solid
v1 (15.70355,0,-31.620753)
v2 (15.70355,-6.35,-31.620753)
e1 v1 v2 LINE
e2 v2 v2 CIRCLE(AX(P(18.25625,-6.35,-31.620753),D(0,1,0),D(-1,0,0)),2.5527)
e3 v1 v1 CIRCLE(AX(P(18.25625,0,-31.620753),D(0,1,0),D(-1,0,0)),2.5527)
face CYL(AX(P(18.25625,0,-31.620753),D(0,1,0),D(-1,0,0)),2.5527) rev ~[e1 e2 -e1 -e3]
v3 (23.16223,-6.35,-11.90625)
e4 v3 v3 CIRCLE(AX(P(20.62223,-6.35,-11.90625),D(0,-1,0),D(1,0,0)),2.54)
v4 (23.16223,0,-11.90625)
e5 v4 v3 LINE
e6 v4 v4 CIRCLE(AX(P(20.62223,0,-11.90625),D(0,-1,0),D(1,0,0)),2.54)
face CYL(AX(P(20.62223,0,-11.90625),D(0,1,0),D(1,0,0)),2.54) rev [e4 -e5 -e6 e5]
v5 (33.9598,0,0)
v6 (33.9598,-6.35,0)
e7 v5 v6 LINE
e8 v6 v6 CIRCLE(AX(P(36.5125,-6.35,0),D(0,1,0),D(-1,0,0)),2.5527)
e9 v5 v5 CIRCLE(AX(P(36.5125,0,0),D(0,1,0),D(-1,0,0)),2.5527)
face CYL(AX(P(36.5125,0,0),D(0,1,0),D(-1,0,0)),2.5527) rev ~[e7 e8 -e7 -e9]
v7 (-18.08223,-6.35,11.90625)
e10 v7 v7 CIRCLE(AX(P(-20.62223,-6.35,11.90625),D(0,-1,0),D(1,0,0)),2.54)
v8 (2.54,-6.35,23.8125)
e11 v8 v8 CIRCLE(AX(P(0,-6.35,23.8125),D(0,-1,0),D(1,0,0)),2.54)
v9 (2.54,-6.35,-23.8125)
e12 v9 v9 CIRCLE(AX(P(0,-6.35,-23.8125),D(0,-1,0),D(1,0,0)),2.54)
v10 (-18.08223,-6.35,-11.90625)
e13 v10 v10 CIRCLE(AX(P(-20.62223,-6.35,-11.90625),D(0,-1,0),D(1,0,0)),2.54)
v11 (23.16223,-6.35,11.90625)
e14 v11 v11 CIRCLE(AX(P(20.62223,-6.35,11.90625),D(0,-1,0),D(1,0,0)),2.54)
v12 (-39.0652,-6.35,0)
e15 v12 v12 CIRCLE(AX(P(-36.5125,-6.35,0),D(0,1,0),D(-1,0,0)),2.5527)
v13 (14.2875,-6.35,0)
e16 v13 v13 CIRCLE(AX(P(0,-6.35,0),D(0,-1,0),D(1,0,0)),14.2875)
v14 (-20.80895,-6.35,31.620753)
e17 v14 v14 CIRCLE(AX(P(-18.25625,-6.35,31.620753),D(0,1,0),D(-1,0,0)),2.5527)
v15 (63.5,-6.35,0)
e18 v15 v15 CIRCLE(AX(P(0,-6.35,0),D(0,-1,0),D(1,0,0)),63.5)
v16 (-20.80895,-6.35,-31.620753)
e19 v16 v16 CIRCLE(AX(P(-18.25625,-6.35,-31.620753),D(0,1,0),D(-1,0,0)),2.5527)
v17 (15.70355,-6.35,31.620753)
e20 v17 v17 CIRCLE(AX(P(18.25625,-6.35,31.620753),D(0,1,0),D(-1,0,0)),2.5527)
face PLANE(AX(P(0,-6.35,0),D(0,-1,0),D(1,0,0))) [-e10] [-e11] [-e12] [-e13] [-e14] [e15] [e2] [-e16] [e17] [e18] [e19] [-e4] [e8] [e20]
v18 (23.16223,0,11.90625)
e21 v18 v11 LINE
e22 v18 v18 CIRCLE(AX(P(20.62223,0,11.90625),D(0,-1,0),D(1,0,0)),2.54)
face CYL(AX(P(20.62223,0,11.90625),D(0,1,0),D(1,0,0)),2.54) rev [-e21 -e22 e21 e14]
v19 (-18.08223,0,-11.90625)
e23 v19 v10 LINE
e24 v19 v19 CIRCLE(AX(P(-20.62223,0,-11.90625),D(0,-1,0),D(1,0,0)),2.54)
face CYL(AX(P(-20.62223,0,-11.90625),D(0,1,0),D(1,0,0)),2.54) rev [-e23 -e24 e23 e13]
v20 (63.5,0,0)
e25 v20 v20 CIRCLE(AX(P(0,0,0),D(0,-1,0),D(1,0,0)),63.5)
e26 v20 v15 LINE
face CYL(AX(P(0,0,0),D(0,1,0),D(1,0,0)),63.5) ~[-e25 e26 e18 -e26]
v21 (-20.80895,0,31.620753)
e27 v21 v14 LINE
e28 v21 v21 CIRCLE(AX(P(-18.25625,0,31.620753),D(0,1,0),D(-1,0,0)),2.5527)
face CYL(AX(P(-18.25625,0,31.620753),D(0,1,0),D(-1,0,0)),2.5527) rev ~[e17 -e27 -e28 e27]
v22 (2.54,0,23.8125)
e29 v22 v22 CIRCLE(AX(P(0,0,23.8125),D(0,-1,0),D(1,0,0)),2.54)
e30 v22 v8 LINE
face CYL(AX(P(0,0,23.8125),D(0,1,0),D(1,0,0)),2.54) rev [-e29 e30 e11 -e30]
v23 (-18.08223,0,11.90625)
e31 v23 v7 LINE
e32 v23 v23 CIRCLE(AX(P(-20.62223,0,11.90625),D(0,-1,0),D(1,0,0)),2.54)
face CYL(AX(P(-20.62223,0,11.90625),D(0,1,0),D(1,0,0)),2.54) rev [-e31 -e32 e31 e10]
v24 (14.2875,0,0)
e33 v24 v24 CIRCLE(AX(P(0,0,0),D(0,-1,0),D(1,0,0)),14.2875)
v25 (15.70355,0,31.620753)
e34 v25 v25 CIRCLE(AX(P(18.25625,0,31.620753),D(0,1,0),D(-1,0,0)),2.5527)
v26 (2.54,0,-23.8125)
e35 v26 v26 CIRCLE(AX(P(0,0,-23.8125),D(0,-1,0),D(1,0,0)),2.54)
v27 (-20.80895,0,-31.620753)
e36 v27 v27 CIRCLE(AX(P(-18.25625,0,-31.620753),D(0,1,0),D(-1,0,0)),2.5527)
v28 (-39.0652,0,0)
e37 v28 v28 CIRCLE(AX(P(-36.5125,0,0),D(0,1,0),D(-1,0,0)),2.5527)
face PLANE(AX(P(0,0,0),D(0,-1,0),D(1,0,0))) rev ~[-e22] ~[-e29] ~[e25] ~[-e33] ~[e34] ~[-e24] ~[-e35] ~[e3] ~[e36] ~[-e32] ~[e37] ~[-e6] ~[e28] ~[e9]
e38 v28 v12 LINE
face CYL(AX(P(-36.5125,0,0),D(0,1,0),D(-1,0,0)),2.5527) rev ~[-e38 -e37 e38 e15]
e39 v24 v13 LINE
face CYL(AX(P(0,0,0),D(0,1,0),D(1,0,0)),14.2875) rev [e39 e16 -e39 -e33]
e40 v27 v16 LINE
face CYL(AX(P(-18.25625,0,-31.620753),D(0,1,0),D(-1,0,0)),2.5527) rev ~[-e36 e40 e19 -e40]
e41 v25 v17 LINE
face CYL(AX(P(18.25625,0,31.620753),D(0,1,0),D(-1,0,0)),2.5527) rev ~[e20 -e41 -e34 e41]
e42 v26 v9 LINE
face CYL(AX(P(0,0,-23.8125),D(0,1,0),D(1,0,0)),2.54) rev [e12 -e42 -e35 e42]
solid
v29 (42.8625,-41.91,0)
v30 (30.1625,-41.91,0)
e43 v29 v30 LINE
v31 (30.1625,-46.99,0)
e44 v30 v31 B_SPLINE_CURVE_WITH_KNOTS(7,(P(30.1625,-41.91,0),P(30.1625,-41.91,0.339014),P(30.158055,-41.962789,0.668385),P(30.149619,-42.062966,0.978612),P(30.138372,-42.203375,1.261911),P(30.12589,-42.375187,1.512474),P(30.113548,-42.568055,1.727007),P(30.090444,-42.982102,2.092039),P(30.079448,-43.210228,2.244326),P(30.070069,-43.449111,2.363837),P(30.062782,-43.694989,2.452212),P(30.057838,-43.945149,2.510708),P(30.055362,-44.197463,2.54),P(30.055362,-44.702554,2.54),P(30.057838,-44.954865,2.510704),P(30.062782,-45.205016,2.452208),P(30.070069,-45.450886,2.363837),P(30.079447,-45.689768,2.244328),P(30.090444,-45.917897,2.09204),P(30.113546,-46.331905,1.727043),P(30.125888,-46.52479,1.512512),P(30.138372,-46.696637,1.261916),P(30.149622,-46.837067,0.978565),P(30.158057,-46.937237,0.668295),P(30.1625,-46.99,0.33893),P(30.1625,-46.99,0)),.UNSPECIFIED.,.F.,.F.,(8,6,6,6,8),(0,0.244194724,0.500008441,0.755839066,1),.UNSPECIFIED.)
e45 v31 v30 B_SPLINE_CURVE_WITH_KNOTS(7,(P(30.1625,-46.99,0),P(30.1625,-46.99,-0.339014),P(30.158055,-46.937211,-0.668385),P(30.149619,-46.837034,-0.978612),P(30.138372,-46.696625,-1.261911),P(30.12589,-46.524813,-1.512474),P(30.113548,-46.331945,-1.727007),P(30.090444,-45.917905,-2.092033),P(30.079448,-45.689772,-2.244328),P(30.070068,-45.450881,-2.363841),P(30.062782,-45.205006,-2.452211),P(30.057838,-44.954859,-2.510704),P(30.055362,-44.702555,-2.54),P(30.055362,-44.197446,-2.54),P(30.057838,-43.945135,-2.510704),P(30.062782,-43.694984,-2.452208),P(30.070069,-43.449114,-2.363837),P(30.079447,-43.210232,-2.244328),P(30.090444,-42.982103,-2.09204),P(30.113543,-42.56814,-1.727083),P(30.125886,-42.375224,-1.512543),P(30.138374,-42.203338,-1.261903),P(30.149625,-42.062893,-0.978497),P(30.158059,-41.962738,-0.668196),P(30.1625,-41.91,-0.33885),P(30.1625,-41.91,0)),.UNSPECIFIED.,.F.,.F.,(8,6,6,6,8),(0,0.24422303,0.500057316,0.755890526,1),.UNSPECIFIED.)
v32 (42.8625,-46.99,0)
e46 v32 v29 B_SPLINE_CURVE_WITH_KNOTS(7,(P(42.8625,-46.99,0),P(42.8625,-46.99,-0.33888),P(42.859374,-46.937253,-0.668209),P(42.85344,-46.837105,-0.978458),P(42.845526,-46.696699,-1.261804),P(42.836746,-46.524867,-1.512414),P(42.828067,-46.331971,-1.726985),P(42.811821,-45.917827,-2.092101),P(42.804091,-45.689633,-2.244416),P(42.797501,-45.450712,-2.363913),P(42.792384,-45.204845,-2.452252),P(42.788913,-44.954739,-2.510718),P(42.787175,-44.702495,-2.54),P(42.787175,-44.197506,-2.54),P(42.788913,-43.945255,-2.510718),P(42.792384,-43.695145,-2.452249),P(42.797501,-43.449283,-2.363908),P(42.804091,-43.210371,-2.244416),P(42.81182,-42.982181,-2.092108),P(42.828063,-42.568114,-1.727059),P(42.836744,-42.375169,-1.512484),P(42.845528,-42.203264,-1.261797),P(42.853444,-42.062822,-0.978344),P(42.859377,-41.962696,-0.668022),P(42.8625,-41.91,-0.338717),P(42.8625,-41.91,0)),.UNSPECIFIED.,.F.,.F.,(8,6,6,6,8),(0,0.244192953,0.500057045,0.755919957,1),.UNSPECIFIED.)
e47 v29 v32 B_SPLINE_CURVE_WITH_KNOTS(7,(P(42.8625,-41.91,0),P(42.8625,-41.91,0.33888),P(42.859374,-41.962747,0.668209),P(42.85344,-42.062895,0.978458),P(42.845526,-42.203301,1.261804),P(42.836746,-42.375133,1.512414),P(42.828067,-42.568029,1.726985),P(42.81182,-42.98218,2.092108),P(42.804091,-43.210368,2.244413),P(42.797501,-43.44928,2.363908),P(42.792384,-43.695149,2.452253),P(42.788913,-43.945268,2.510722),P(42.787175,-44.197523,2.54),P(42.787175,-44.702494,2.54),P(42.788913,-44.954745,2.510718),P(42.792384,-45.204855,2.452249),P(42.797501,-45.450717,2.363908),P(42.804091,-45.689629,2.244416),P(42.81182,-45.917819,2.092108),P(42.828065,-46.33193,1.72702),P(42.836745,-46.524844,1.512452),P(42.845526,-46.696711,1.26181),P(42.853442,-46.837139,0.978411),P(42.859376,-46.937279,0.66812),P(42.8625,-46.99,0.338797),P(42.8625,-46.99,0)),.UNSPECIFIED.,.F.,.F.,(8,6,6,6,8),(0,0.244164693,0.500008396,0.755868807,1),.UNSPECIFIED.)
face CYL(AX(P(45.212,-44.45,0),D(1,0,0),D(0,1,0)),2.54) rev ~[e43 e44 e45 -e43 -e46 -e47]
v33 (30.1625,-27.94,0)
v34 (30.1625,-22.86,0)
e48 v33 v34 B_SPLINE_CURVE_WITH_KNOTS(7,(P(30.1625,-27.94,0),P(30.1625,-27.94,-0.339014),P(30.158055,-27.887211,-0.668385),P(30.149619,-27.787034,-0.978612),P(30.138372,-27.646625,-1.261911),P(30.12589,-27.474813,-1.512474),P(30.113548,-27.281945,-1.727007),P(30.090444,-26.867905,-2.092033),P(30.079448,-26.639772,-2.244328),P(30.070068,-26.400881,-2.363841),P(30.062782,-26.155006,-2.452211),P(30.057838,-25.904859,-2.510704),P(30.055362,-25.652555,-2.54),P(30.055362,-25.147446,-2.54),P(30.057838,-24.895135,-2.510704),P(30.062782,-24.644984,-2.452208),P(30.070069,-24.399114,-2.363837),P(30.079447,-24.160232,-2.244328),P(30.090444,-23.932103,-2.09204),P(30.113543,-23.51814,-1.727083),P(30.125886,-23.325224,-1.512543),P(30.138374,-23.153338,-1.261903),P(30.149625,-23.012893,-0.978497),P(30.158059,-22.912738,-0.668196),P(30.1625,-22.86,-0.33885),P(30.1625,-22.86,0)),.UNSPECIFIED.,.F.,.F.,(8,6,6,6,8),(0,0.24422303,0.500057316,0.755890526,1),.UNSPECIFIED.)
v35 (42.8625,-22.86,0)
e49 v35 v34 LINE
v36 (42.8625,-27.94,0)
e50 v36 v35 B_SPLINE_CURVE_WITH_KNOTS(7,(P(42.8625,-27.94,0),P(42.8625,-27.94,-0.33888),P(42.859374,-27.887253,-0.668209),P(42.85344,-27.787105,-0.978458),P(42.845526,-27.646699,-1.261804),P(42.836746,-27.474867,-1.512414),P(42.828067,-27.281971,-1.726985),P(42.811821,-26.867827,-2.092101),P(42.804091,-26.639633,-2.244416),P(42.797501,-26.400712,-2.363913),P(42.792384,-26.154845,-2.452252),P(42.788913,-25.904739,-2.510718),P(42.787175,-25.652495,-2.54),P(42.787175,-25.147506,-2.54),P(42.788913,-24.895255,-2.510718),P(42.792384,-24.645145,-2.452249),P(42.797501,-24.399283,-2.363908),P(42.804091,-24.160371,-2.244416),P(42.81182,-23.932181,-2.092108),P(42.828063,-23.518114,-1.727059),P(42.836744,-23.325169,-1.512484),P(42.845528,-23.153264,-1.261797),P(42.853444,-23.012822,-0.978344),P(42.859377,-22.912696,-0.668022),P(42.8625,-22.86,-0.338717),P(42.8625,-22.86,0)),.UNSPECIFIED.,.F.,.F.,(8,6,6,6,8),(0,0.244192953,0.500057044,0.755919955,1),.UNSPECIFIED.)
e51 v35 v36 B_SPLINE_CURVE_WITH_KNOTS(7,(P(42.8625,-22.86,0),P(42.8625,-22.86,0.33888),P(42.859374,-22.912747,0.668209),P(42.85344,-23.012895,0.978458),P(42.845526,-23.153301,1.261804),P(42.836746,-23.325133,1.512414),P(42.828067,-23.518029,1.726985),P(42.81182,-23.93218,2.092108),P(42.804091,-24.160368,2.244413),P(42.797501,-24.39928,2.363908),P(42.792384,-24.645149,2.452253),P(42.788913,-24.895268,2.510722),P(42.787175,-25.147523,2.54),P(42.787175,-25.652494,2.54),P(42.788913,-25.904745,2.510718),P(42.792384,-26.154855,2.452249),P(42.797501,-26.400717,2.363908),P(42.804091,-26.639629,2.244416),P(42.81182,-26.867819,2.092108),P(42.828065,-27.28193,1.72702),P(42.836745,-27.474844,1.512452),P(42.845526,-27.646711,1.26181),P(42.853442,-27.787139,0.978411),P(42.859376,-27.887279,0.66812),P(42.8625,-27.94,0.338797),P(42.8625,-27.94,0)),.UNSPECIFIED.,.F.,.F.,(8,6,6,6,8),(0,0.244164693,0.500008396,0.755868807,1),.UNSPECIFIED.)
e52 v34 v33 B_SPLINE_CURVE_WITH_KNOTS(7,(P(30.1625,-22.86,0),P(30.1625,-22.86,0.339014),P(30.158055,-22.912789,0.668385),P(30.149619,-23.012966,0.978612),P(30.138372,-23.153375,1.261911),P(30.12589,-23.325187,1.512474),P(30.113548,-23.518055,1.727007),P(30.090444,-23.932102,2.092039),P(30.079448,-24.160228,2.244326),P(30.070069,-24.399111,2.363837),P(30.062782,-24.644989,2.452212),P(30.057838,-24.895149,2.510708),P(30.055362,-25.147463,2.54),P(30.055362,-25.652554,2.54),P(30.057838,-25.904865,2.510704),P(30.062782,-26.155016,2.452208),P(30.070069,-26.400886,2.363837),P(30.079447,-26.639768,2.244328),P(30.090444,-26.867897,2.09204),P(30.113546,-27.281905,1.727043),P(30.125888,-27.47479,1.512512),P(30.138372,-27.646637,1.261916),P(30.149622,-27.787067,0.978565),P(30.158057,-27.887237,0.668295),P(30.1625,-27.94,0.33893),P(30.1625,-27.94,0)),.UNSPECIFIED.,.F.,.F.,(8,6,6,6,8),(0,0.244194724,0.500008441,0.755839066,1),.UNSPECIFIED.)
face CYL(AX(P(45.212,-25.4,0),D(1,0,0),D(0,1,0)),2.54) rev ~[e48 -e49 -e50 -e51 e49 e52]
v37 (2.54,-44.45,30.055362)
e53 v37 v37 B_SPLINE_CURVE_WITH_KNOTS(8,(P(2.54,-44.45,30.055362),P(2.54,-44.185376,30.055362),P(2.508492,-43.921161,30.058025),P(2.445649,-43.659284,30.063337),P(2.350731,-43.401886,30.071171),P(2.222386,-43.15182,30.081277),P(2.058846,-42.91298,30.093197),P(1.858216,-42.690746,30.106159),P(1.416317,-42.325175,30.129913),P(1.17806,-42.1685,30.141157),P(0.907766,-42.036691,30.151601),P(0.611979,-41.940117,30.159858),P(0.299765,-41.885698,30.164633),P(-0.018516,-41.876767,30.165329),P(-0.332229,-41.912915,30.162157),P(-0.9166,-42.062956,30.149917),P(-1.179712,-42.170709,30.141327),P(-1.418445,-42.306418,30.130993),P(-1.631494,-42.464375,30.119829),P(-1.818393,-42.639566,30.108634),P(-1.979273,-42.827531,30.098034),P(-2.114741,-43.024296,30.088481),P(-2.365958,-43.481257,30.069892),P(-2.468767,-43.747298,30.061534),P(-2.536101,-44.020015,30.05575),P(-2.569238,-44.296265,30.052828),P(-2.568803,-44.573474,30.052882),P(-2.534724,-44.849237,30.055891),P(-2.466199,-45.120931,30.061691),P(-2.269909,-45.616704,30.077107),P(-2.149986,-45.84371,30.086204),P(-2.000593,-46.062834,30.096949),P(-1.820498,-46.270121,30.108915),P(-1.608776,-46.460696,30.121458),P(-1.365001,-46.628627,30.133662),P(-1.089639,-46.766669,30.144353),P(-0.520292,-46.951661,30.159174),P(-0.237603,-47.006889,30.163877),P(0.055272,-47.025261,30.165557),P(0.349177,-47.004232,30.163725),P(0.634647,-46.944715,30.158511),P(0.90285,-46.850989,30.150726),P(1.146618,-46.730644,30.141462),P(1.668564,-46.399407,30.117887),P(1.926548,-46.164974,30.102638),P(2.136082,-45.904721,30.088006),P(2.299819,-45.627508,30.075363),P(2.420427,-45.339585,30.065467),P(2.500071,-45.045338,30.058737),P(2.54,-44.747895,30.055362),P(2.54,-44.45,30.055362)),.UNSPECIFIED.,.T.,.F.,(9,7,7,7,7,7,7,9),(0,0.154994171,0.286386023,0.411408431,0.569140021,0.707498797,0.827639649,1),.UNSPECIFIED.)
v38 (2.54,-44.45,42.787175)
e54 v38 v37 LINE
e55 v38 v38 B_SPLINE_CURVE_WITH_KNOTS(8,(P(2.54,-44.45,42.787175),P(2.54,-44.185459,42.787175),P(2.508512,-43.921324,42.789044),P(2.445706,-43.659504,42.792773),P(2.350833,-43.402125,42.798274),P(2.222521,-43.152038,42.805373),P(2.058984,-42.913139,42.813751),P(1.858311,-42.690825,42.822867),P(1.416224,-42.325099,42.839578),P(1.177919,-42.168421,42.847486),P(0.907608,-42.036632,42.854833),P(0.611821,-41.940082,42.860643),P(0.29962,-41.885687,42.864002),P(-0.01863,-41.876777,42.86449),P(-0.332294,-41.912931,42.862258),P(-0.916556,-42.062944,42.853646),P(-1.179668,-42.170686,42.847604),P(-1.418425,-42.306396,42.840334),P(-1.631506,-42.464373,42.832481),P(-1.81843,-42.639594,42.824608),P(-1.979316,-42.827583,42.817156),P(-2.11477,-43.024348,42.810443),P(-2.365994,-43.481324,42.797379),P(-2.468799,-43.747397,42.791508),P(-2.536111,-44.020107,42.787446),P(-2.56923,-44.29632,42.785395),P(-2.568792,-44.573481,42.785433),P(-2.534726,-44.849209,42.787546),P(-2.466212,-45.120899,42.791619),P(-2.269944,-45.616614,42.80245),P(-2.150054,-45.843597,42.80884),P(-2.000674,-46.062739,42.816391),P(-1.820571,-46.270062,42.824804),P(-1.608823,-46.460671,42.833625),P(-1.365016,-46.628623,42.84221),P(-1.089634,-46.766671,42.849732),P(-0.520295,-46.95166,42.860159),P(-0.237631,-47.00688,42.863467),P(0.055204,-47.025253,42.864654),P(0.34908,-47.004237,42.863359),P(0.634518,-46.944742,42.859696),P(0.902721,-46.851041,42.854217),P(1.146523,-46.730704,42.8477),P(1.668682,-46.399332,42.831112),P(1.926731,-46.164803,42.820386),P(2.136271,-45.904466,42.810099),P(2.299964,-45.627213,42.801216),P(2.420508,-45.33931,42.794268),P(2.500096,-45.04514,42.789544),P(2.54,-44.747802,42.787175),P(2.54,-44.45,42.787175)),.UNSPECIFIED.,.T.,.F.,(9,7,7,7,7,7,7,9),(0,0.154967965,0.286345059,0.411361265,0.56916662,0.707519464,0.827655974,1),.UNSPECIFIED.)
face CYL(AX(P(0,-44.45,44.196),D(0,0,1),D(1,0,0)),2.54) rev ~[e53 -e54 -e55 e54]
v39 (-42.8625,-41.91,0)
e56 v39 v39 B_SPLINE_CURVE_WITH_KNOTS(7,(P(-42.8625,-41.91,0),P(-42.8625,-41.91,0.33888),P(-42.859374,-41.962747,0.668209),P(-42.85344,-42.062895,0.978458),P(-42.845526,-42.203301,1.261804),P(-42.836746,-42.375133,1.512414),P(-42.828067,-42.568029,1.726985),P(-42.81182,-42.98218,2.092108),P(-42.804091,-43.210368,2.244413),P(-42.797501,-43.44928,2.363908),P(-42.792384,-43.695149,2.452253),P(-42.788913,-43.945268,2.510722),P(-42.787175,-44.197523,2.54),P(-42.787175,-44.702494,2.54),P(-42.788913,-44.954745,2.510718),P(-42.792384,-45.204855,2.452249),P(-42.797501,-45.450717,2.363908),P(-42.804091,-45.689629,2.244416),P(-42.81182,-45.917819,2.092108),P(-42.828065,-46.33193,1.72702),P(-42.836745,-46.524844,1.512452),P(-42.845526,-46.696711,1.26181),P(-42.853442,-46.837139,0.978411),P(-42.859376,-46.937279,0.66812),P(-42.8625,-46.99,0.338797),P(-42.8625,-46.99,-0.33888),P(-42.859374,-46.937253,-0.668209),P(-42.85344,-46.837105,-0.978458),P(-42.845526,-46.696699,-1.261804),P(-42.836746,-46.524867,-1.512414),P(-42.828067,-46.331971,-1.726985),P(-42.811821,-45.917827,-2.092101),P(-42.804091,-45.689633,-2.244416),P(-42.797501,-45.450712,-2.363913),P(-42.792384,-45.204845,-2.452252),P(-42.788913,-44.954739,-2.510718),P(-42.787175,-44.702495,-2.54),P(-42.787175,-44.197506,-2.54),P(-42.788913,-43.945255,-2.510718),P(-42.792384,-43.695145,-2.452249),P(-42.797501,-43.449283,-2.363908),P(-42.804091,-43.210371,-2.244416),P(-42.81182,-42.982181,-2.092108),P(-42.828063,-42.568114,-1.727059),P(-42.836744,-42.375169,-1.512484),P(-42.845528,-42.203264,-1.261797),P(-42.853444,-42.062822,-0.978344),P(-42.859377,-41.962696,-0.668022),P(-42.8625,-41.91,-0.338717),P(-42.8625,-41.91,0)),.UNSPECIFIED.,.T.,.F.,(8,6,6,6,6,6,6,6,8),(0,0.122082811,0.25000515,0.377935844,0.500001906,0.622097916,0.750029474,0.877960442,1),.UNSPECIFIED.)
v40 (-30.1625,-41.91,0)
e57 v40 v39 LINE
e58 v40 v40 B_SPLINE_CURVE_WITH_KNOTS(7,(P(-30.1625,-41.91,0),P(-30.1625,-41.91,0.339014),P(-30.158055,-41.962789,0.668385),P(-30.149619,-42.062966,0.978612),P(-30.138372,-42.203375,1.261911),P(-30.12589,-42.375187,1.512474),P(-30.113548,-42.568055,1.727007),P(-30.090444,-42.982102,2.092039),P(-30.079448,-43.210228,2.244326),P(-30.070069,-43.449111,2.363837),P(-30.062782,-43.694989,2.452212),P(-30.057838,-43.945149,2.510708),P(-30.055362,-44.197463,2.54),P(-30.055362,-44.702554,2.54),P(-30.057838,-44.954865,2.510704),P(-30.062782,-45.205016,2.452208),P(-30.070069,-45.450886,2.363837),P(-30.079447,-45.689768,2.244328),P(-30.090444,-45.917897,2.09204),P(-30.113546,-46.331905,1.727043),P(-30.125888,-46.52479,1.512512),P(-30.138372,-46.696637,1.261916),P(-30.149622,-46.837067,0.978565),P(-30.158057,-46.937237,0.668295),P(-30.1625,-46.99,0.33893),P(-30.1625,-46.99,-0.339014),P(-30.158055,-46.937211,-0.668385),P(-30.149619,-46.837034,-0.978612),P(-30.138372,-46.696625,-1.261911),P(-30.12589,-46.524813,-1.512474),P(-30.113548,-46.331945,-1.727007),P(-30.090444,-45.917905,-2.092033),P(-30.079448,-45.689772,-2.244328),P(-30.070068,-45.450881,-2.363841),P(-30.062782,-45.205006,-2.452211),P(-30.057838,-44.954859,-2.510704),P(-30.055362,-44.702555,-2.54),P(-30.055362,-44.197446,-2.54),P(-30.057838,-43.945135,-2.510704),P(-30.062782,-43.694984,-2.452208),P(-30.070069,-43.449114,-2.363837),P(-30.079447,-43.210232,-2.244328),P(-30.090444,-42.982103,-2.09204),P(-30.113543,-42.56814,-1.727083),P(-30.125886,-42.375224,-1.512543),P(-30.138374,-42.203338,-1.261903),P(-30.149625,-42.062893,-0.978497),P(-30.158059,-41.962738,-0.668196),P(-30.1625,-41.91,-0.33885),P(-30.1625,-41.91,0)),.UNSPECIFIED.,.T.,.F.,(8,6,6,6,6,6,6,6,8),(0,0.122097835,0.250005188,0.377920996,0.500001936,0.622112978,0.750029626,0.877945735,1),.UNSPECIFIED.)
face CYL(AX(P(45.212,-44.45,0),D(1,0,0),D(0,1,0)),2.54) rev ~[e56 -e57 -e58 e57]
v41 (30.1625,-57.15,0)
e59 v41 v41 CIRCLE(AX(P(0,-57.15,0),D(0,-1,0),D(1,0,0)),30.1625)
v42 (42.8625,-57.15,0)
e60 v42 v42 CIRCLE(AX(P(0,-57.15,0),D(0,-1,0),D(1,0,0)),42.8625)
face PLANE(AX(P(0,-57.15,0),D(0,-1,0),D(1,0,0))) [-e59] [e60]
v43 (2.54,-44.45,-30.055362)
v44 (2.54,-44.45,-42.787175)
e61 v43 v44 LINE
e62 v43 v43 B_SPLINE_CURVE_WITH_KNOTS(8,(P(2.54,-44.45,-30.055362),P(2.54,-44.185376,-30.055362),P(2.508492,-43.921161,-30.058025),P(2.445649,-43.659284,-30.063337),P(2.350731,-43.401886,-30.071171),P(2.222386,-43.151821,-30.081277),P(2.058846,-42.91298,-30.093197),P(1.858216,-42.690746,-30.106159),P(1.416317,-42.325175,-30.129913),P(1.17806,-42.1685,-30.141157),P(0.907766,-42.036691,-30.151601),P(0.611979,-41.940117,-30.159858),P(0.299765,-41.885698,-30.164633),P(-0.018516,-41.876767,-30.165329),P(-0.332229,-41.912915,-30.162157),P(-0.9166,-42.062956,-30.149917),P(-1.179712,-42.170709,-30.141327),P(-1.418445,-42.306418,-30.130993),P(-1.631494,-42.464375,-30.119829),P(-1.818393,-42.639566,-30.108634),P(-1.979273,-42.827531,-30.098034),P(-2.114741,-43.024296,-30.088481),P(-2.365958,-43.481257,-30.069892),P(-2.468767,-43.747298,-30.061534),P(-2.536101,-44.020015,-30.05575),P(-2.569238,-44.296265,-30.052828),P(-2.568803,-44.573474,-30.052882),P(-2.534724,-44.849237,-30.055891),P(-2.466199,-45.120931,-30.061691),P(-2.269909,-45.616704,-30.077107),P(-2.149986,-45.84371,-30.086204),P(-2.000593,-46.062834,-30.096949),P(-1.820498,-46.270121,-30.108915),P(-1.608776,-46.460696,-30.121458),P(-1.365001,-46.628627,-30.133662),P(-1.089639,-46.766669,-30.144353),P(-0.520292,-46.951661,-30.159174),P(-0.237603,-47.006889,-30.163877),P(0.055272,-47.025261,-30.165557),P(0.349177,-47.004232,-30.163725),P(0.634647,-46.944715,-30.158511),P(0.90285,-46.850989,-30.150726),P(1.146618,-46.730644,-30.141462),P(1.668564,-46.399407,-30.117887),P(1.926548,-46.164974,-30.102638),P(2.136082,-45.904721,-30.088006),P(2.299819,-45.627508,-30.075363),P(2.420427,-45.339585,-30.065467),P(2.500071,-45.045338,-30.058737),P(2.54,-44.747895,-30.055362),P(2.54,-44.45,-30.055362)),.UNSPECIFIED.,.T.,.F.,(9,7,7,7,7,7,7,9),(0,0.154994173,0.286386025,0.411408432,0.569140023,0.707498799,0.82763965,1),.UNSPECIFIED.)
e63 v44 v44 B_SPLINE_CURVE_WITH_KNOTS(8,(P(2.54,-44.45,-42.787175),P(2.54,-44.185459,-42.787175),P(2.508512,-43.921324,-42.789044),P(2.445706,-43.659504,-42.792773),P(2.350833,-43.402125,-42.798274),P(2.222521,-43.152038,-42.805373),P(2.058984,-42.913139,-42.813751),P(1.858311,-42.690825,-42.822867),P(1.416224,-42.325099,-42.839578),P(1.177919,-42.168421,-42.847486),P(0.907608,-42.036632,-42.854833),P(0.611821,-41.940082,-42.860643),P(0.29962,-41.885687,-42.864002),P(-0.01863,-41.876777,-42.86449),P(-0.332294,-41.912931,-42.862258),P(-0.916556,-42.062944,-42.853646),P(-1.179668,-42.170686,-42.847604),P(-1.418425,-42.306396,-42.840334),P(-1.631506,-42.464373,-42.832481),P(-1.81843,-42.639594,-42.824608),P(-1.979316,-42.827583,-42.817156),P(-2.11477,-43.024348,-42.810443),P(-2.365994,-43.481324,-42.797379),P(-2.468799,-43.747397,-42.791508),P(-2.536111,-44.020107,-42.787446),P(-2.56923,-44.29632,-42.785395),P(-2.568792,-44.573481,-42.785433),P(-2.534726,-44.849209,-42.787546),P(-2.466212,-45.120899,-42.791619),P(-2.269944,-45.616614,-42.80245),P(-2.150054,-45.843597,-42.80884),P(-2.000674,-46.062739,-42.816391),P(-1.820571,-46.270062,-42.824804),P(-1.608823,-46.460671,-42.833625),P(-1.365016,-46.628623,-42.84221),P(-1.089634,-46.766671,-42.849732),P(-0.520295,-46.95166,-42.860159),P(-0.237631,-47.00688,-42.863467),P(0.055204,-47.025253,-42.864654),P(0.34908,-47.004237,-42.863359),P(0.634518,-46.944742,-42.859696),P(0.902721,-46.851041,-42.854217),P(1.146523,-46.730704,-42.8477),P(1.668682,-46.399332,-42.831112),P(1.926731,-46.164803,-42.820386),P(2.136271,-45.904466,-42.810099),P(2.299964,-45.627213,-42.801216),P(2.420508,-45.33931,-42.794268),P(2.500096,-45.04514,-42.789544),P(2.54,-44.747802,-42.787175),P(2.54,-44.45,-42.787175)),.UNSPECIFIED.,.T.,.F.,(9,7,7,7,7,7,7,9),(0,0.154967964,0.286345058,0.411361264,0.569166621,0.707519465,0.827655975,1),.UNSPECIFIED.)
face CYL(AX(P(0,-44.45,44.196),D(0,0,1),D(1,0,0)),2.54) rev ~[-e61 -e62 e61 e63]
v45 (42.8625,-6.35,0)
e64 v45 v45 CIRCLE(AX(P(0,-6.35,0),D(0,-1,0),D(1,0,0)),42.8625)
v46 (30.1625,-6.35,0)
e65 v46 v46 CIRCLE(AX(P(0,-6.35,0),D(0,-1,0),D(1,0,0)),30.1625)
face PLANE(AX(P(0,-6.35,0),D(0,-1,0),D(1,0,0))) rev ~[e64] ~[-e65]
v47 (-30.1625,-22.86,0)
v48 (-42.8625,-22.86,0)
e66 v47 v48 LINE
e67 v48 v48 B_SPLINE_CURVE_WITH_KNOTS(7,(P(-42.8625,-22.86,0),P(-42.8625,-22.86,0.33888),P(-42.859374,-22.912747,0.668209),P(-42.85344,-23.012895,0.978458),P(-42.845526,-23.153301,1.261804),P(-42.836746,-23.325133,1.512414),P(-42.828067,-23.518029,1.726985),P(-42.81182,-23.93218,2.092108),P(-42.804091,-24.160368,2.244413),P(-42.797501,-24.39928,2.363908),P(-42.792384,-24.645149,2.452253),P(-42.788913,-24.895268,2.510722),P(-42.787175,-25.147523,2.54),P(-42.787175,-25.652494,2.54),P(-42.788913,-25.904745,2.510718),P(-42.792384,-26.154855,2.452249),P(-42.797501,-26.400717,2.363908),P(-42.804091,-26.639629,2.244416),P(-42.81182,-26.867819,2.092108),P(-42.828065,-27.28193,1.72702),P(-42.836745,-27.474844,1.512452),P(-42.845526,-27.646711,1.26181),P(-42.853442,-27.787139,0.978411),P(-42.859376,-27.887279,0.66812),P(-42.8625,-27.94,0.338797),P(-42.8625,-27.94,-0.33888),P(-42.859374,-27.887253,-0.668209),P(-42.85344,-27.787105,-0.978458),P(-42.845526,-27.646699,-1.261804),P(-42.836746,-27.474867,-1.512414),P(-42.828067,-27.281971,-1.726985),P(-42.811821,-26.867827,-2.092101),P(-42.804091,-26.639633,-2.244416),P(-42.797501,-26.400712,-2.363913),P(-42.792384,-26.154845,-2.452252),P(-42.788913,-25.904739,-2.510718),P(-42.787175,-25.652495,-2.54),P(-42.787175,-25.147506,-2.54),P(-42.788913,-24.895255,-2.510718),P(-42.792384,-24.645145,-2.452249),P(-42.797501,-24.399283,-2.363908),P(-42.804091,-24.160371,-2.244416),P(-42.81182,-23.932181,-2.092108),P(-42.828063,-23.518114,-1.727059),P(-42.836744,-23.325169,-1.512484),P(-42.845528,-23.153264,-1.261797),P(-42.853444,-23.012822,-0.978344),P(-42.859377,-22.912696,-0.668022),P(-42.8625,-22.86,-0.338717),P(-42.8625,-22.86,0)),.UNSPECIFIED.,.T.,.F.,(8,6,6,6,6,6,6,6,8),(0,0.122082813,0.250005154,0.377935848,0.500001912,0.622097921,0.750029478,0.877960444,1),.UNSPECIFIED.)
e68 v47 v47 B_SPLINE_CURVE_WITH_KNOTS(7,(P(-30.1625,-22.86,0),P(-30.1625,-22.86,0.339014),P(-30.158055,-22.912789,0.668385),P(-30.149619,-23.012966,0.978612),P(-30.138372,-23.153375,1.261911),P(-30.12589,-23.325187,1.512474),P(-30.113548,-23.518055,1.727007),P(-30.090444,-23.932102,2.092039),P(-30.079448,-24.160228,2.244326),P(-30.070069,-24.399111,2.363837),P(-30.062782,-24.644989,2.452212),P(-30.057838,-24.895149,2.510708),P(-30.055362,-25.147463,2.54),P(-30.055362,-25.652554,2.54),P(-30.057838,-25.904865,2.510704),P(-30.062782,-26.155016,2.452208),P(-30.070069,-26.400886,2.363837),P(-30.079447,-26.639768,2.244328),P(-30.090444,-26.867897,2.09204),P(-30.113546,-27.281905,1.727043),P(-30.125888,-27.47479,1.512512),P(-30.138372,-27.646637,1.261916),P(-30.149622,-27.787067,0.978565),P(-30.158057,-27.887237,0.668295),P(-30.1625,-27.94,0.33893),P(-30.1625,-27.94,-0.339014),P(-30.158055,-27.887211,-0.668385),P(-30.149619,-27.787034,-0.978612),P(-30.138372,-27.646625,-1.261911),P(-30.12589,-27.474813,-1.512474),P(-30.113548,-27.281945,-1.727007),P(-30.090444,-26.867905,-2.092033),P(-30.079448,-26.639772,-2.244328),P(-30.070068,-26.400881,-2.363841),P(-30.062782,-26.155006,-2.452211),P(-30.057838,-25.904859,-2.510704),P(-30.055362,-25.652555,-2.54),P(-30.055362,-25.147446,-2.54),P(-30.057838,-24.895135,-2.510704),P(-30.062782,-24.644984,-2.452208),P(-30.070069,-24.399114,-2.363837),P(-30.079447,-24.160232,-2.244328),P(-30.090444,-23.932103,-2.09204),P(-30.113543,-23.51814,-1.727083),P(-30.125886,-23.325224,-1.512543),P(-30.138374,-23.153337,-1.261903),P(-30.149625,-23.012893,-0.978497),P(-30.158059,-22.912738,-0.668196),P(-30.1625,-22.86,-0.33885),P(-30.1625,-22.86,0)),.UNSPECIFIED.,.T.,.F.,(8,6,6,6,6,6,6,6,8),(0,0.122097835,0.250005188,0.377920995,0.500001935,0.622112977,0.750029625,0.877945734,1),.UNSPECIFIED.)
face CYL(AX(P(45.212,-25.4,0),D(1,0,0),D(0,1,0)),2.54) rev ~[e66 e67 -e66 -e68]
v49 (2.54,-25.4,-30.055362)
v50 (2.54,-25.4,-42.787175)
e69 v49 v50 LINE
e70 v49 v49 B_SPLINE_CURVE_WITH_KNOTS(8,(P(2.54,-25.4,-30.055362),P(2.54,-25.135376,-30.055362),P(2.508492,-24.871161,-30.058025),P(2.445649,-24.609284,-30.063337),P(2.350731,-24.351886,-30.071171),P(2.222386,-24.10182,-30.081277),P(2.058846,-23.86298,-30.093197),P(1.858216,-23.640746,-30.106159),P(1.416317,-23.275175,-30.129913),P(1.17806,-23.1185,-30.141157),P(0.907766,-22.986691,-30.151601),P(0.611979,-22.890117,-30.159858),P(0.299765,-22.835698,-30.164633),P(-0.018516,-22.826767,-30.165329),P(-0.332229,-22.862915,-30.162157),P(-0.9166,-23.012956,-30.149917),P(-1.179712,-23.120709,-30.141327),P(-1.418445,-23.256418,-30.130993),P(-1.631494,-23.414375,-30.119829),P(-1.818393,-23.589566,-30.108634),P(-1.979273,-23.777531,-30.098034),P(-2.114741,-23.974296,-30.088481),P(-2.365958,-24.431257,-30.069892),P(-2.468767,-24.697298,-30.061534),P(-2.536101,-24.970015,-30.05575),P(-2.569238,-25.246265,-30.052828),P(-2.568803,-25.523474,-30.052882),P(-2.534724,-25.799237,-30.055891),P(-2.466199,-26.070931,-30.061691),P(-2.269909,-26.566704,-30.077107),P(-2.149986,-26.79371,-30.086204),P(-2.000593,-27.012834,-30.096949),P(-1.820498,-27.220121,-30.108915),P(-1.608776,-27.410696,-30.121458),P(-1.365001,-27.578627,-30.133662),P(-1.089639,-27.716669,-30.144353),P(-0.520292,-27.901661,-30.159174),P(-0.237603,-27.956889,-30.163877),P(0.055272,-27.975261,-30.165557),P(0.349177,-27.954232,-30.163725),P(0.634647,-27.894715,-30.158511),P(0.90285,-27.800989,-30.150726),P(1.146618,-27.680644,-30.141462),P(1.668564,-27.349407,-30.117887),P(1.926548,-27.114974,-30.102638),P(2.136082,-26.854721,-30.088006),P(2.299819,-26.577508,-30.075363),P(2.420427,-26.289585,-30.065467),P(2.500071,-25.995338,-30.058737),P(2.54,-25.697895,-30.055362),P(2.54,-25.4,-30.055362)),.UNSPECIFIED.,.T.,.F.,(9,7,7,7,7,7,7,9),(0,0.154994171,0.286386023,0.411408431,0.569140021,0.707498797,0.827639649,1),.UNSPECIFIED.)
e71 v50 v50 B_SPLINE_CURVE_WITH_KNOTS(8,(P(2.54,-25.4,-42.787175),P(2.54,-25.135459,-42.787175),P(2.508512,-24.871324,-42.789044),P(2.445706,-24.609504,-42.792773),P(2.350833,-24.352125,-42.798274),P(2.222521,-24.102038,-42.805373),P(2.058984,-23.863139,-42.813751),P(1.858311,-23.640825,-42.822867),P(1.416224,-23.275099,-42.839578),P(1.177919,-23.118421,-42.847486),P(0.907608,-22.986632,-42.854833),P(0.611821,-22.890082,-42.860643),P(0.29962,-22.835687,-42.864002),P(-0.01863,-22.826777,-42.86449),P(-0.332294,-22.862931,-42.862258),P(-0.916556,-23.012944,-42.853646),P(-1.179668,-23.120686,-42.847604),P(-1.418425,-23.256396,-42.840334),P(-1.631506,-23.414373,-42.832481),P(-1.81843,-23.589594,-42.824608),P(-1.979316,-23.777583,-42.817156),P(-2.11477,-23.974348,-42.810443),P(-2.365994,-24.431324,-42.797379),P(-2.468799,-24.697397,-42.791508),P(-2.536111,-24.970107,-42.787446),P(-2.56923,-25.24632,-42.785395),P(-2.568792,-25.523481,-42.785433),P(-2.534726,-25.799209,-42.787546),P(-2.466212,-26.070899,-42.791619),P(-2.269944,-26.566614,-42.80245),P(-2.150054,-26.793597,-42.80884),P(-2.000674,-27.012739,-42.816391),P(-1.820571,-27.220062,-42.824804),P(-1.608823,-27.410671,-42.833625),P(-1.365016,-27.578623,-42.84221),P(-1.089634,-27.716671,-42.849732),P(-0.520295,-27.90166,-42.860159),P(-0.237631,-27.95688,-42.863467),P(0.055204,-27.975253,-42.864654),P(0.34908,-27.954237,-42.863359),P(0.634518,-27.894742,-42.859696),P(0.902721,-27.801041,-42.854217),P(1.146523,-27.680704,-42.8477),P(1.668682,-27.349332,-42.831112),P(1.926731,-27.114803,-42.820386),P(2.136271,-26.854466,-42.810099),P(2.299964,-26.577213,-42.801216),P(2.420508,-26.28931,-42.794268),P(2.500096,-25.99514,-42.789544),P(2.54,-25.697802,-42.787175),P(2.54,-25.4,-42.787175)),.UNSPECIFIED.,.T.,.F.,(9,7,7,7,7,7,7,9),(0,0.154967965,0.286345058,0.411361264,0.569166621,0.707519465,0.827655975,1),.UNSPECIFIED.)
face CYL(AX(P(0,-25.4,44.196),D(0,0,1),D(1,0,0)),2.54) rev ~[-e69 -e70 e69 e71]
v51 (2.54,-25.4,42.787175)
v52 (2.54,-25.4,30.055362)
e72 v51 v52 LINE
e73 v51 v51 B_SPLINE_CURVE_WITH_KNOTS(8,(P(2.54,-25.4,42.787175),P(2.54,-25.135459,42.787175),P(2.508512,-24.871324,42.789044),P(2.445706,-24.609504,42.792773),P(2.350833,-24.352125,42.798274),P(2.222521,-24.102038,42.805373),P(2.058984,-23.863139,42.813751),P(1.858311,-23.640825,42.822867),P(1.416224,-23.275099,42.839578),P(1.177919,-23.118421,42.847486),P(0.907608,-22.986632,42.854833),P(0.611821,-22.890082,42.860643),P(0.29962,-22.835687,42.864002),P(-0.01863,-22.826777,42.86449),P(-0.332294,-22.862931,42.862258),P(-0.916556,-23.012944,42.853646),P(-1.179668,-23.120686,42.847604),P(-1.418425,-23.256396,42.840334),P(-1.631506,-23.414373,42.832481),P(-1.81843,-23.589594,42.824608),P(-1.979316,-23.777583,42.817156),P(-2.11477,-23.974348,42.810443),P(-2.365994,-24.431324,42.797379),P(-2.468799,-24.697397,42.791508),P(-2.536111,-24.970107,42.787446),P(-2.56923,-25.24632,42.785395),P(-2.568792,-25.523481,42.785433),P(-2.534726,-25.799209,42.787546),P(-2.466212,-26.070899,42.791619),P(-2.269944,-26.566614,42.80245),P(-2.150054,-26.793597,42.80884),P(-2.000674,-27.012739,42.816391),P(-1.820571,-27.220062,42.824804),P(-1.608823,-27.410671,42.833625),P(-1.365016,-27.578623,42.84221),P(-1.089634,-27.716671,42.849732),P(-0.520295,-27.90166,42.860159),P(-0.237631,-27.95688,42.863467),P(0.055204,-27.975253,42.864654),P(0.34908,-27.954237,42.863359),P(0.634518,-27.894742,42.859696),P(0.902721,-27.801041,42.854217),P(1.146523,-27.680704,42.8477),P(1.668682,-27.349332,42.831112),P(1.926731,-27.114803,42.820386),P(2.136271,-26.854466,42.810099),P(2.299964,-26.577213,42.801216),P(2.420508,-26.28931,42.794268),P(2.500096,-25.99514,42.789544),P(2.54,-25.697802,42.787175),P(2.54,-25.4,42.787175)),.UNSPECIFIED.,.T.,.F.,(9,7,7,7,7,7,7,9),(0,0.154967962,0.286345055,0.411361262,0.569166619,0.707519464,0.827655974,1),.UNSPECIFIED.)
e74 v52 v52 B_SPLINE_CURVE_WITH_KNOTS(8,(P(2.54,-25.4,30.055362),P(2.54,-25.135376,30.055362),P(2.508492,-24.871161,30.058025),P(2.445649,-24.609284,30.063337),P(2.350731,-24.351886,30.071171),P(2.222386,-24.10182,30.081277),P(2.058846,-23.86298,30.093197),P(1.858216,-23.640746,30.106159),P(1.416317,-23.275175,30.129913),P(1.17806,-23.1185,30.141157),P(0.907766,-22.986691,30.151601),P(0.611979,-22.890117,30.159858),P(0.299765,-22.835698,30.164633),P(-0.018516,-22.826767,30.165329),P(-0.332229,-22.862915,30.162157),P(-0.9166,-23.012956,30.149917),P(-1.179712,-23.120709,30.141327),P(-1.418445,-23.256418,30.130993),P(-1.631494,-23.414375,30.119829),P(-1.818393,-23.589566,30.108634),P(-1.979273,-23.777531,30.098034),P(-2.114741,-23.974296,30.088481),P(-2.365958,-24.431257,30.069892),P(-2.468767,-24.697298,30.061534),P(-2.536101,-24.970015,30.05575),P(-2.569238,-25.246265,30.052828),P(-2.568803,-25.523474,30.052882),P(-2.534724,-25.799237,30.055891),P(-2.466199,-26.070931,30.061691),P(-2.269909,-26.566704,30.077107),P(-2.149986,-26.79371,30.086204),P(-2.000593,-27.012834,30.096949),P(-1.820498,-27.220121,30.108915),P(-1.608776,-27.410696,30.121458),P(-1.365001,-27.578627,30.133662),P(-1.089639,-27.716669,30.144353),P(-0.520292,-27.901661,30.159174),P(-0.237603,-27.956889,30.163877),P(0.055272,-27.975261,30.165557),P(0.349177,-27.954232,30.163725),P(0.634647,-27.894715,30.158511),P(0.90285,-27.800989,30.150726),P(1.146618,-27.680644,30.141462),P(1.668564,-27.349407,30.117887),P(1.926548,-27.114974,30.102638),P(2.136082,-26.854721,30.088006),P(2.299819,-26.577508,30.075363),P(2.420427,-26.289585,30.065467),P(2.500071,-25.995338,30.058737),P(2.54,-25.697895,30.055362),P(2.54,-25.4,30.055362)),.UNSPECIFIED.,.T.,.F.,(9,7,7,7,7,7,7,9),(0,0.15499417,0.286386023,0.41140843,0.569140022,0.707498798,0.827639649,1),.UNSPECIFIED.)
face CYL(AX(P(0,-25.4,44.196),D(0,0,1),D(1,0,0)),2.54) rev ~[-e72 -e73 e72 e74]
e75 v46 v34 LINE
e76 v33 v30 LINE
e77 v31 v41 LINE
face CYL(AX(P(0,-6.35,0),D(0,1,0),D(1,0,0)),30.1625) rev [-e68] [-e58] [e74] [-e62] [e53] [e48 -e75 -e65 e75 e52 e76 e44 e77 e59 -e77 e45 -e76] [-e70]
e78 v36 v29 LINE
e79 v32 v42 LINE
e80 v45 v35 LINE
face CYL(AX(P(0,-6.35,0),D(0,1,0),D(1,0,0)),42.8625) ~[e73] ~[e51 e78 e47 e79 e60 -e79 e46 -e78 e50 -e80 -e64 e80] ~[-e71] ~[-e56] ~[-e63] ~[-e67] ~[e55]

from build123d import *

# Parameters (mm, degrees)
F0_R      = 63.5
F0_R_2    = 2.54
F0_R_3    = 14.2875
F1_DEPTH  = 6.35
F2_R      = 42.8625
F2_R_2    = 30.1625
F3_DEPTH  = 50.8
F5_R      = 2.54
F6_DEPTH  = 101.6
F8_R      = 2.54
F9_DEPTH  = 101.6
F10_R     = 2.5527
F11_DEPTH = 12.7


with BuildPart() as f1:
    # F0 (on Front) → F1 (new body)
    with BuildSketch(Plane.XZ):
        Circle(F0_R)
        with Locations((-20.6222299276, -11.90625)):
            Circle(F0_R_2, mode=Mode.SUBTRACT)
        with Locations((0, -23.8125)):
            Circle(F0_R_2, mode=Mode.SUBTRACT)
        with Locations((20.6222299276, -11.90625)):
            Circle(F0_R_2, mode=Mode.SUBTRACT)
        with Locations((-20.6222299276, 11.90625)):
            Circle(F0_R_2, mode=Mode.SUBTRACT)
        Circle(F0_R_3, mode=Mode.SUBTRACT)
        with Locations((20.6222299276, 11.90625)):
            Circle(F0_R_2, mode=Mode.SUBTRACT)
        with Locations((0, 23.8125)):
            Circle(F0_R_2, mode=Mode.SUBTRACT)
    extrude(amount=F1_DEPTH)

    # F10 (on face) → F11 (cut)
    with BuildSketch(Plane(origin=(0, 0, 0), x_dir=(-1, 0, 0), z_dir=(0, 1, 0))):
        with Locations((18.25625, 31.6207525557)):
            Circle(F10_R)
        with Locations((-18.25625, 31.6207525557)):
            Circle(F10_R)
        with Locations((-36.5125, 0)):
            Circle(F10_R)
        with Locations((-18.25625, -31.6207525557)):
            Circle(F10_R)
        with Locations((18.25625, -31.6207525557)):
            Circle(F10_R)
        with Locations((36.5125, 0)):
            Circle(F10_R)
    extrude(amount=-F11_DEPTH, mode=Mode.SUBTRACT)


with BuildPart() as f3:
    # F2 (on face) → F3 (new body)
    with BuildSketch(Plane.XZ.offset(6.35)):
        Circle(F2_R)
        Circle(F2_R_2, mode=Mode.SUBTRACT)
    extrude(amount=F3_DEPTH)

    # F5 (on offset) → F6 (cut)
    with BuildSketch(Plane.YZ.offset(45.212)):
        with Locations((-25.4, 0)):
            Circle(F5_R)
        with Locations((-44.45, 0)):
            Circle(F5_R)
    extrude(amount=-F6_DEPTH, mode=Mode.SUBTRACT)

    # F8 (on offset) → F9 (cut)
    with BuildSketch(Plane.XY.offset(44.196)):
        with Locations((0, -25.4)):
            Circle(F8_R)
        with Locations((0, -44.45)):
            Circle(F8_R)
    extrude(amount=-F9_DEPTH, mode=Mode.SUBTRACT)


solid = Compound([f1.part, f3.part])
